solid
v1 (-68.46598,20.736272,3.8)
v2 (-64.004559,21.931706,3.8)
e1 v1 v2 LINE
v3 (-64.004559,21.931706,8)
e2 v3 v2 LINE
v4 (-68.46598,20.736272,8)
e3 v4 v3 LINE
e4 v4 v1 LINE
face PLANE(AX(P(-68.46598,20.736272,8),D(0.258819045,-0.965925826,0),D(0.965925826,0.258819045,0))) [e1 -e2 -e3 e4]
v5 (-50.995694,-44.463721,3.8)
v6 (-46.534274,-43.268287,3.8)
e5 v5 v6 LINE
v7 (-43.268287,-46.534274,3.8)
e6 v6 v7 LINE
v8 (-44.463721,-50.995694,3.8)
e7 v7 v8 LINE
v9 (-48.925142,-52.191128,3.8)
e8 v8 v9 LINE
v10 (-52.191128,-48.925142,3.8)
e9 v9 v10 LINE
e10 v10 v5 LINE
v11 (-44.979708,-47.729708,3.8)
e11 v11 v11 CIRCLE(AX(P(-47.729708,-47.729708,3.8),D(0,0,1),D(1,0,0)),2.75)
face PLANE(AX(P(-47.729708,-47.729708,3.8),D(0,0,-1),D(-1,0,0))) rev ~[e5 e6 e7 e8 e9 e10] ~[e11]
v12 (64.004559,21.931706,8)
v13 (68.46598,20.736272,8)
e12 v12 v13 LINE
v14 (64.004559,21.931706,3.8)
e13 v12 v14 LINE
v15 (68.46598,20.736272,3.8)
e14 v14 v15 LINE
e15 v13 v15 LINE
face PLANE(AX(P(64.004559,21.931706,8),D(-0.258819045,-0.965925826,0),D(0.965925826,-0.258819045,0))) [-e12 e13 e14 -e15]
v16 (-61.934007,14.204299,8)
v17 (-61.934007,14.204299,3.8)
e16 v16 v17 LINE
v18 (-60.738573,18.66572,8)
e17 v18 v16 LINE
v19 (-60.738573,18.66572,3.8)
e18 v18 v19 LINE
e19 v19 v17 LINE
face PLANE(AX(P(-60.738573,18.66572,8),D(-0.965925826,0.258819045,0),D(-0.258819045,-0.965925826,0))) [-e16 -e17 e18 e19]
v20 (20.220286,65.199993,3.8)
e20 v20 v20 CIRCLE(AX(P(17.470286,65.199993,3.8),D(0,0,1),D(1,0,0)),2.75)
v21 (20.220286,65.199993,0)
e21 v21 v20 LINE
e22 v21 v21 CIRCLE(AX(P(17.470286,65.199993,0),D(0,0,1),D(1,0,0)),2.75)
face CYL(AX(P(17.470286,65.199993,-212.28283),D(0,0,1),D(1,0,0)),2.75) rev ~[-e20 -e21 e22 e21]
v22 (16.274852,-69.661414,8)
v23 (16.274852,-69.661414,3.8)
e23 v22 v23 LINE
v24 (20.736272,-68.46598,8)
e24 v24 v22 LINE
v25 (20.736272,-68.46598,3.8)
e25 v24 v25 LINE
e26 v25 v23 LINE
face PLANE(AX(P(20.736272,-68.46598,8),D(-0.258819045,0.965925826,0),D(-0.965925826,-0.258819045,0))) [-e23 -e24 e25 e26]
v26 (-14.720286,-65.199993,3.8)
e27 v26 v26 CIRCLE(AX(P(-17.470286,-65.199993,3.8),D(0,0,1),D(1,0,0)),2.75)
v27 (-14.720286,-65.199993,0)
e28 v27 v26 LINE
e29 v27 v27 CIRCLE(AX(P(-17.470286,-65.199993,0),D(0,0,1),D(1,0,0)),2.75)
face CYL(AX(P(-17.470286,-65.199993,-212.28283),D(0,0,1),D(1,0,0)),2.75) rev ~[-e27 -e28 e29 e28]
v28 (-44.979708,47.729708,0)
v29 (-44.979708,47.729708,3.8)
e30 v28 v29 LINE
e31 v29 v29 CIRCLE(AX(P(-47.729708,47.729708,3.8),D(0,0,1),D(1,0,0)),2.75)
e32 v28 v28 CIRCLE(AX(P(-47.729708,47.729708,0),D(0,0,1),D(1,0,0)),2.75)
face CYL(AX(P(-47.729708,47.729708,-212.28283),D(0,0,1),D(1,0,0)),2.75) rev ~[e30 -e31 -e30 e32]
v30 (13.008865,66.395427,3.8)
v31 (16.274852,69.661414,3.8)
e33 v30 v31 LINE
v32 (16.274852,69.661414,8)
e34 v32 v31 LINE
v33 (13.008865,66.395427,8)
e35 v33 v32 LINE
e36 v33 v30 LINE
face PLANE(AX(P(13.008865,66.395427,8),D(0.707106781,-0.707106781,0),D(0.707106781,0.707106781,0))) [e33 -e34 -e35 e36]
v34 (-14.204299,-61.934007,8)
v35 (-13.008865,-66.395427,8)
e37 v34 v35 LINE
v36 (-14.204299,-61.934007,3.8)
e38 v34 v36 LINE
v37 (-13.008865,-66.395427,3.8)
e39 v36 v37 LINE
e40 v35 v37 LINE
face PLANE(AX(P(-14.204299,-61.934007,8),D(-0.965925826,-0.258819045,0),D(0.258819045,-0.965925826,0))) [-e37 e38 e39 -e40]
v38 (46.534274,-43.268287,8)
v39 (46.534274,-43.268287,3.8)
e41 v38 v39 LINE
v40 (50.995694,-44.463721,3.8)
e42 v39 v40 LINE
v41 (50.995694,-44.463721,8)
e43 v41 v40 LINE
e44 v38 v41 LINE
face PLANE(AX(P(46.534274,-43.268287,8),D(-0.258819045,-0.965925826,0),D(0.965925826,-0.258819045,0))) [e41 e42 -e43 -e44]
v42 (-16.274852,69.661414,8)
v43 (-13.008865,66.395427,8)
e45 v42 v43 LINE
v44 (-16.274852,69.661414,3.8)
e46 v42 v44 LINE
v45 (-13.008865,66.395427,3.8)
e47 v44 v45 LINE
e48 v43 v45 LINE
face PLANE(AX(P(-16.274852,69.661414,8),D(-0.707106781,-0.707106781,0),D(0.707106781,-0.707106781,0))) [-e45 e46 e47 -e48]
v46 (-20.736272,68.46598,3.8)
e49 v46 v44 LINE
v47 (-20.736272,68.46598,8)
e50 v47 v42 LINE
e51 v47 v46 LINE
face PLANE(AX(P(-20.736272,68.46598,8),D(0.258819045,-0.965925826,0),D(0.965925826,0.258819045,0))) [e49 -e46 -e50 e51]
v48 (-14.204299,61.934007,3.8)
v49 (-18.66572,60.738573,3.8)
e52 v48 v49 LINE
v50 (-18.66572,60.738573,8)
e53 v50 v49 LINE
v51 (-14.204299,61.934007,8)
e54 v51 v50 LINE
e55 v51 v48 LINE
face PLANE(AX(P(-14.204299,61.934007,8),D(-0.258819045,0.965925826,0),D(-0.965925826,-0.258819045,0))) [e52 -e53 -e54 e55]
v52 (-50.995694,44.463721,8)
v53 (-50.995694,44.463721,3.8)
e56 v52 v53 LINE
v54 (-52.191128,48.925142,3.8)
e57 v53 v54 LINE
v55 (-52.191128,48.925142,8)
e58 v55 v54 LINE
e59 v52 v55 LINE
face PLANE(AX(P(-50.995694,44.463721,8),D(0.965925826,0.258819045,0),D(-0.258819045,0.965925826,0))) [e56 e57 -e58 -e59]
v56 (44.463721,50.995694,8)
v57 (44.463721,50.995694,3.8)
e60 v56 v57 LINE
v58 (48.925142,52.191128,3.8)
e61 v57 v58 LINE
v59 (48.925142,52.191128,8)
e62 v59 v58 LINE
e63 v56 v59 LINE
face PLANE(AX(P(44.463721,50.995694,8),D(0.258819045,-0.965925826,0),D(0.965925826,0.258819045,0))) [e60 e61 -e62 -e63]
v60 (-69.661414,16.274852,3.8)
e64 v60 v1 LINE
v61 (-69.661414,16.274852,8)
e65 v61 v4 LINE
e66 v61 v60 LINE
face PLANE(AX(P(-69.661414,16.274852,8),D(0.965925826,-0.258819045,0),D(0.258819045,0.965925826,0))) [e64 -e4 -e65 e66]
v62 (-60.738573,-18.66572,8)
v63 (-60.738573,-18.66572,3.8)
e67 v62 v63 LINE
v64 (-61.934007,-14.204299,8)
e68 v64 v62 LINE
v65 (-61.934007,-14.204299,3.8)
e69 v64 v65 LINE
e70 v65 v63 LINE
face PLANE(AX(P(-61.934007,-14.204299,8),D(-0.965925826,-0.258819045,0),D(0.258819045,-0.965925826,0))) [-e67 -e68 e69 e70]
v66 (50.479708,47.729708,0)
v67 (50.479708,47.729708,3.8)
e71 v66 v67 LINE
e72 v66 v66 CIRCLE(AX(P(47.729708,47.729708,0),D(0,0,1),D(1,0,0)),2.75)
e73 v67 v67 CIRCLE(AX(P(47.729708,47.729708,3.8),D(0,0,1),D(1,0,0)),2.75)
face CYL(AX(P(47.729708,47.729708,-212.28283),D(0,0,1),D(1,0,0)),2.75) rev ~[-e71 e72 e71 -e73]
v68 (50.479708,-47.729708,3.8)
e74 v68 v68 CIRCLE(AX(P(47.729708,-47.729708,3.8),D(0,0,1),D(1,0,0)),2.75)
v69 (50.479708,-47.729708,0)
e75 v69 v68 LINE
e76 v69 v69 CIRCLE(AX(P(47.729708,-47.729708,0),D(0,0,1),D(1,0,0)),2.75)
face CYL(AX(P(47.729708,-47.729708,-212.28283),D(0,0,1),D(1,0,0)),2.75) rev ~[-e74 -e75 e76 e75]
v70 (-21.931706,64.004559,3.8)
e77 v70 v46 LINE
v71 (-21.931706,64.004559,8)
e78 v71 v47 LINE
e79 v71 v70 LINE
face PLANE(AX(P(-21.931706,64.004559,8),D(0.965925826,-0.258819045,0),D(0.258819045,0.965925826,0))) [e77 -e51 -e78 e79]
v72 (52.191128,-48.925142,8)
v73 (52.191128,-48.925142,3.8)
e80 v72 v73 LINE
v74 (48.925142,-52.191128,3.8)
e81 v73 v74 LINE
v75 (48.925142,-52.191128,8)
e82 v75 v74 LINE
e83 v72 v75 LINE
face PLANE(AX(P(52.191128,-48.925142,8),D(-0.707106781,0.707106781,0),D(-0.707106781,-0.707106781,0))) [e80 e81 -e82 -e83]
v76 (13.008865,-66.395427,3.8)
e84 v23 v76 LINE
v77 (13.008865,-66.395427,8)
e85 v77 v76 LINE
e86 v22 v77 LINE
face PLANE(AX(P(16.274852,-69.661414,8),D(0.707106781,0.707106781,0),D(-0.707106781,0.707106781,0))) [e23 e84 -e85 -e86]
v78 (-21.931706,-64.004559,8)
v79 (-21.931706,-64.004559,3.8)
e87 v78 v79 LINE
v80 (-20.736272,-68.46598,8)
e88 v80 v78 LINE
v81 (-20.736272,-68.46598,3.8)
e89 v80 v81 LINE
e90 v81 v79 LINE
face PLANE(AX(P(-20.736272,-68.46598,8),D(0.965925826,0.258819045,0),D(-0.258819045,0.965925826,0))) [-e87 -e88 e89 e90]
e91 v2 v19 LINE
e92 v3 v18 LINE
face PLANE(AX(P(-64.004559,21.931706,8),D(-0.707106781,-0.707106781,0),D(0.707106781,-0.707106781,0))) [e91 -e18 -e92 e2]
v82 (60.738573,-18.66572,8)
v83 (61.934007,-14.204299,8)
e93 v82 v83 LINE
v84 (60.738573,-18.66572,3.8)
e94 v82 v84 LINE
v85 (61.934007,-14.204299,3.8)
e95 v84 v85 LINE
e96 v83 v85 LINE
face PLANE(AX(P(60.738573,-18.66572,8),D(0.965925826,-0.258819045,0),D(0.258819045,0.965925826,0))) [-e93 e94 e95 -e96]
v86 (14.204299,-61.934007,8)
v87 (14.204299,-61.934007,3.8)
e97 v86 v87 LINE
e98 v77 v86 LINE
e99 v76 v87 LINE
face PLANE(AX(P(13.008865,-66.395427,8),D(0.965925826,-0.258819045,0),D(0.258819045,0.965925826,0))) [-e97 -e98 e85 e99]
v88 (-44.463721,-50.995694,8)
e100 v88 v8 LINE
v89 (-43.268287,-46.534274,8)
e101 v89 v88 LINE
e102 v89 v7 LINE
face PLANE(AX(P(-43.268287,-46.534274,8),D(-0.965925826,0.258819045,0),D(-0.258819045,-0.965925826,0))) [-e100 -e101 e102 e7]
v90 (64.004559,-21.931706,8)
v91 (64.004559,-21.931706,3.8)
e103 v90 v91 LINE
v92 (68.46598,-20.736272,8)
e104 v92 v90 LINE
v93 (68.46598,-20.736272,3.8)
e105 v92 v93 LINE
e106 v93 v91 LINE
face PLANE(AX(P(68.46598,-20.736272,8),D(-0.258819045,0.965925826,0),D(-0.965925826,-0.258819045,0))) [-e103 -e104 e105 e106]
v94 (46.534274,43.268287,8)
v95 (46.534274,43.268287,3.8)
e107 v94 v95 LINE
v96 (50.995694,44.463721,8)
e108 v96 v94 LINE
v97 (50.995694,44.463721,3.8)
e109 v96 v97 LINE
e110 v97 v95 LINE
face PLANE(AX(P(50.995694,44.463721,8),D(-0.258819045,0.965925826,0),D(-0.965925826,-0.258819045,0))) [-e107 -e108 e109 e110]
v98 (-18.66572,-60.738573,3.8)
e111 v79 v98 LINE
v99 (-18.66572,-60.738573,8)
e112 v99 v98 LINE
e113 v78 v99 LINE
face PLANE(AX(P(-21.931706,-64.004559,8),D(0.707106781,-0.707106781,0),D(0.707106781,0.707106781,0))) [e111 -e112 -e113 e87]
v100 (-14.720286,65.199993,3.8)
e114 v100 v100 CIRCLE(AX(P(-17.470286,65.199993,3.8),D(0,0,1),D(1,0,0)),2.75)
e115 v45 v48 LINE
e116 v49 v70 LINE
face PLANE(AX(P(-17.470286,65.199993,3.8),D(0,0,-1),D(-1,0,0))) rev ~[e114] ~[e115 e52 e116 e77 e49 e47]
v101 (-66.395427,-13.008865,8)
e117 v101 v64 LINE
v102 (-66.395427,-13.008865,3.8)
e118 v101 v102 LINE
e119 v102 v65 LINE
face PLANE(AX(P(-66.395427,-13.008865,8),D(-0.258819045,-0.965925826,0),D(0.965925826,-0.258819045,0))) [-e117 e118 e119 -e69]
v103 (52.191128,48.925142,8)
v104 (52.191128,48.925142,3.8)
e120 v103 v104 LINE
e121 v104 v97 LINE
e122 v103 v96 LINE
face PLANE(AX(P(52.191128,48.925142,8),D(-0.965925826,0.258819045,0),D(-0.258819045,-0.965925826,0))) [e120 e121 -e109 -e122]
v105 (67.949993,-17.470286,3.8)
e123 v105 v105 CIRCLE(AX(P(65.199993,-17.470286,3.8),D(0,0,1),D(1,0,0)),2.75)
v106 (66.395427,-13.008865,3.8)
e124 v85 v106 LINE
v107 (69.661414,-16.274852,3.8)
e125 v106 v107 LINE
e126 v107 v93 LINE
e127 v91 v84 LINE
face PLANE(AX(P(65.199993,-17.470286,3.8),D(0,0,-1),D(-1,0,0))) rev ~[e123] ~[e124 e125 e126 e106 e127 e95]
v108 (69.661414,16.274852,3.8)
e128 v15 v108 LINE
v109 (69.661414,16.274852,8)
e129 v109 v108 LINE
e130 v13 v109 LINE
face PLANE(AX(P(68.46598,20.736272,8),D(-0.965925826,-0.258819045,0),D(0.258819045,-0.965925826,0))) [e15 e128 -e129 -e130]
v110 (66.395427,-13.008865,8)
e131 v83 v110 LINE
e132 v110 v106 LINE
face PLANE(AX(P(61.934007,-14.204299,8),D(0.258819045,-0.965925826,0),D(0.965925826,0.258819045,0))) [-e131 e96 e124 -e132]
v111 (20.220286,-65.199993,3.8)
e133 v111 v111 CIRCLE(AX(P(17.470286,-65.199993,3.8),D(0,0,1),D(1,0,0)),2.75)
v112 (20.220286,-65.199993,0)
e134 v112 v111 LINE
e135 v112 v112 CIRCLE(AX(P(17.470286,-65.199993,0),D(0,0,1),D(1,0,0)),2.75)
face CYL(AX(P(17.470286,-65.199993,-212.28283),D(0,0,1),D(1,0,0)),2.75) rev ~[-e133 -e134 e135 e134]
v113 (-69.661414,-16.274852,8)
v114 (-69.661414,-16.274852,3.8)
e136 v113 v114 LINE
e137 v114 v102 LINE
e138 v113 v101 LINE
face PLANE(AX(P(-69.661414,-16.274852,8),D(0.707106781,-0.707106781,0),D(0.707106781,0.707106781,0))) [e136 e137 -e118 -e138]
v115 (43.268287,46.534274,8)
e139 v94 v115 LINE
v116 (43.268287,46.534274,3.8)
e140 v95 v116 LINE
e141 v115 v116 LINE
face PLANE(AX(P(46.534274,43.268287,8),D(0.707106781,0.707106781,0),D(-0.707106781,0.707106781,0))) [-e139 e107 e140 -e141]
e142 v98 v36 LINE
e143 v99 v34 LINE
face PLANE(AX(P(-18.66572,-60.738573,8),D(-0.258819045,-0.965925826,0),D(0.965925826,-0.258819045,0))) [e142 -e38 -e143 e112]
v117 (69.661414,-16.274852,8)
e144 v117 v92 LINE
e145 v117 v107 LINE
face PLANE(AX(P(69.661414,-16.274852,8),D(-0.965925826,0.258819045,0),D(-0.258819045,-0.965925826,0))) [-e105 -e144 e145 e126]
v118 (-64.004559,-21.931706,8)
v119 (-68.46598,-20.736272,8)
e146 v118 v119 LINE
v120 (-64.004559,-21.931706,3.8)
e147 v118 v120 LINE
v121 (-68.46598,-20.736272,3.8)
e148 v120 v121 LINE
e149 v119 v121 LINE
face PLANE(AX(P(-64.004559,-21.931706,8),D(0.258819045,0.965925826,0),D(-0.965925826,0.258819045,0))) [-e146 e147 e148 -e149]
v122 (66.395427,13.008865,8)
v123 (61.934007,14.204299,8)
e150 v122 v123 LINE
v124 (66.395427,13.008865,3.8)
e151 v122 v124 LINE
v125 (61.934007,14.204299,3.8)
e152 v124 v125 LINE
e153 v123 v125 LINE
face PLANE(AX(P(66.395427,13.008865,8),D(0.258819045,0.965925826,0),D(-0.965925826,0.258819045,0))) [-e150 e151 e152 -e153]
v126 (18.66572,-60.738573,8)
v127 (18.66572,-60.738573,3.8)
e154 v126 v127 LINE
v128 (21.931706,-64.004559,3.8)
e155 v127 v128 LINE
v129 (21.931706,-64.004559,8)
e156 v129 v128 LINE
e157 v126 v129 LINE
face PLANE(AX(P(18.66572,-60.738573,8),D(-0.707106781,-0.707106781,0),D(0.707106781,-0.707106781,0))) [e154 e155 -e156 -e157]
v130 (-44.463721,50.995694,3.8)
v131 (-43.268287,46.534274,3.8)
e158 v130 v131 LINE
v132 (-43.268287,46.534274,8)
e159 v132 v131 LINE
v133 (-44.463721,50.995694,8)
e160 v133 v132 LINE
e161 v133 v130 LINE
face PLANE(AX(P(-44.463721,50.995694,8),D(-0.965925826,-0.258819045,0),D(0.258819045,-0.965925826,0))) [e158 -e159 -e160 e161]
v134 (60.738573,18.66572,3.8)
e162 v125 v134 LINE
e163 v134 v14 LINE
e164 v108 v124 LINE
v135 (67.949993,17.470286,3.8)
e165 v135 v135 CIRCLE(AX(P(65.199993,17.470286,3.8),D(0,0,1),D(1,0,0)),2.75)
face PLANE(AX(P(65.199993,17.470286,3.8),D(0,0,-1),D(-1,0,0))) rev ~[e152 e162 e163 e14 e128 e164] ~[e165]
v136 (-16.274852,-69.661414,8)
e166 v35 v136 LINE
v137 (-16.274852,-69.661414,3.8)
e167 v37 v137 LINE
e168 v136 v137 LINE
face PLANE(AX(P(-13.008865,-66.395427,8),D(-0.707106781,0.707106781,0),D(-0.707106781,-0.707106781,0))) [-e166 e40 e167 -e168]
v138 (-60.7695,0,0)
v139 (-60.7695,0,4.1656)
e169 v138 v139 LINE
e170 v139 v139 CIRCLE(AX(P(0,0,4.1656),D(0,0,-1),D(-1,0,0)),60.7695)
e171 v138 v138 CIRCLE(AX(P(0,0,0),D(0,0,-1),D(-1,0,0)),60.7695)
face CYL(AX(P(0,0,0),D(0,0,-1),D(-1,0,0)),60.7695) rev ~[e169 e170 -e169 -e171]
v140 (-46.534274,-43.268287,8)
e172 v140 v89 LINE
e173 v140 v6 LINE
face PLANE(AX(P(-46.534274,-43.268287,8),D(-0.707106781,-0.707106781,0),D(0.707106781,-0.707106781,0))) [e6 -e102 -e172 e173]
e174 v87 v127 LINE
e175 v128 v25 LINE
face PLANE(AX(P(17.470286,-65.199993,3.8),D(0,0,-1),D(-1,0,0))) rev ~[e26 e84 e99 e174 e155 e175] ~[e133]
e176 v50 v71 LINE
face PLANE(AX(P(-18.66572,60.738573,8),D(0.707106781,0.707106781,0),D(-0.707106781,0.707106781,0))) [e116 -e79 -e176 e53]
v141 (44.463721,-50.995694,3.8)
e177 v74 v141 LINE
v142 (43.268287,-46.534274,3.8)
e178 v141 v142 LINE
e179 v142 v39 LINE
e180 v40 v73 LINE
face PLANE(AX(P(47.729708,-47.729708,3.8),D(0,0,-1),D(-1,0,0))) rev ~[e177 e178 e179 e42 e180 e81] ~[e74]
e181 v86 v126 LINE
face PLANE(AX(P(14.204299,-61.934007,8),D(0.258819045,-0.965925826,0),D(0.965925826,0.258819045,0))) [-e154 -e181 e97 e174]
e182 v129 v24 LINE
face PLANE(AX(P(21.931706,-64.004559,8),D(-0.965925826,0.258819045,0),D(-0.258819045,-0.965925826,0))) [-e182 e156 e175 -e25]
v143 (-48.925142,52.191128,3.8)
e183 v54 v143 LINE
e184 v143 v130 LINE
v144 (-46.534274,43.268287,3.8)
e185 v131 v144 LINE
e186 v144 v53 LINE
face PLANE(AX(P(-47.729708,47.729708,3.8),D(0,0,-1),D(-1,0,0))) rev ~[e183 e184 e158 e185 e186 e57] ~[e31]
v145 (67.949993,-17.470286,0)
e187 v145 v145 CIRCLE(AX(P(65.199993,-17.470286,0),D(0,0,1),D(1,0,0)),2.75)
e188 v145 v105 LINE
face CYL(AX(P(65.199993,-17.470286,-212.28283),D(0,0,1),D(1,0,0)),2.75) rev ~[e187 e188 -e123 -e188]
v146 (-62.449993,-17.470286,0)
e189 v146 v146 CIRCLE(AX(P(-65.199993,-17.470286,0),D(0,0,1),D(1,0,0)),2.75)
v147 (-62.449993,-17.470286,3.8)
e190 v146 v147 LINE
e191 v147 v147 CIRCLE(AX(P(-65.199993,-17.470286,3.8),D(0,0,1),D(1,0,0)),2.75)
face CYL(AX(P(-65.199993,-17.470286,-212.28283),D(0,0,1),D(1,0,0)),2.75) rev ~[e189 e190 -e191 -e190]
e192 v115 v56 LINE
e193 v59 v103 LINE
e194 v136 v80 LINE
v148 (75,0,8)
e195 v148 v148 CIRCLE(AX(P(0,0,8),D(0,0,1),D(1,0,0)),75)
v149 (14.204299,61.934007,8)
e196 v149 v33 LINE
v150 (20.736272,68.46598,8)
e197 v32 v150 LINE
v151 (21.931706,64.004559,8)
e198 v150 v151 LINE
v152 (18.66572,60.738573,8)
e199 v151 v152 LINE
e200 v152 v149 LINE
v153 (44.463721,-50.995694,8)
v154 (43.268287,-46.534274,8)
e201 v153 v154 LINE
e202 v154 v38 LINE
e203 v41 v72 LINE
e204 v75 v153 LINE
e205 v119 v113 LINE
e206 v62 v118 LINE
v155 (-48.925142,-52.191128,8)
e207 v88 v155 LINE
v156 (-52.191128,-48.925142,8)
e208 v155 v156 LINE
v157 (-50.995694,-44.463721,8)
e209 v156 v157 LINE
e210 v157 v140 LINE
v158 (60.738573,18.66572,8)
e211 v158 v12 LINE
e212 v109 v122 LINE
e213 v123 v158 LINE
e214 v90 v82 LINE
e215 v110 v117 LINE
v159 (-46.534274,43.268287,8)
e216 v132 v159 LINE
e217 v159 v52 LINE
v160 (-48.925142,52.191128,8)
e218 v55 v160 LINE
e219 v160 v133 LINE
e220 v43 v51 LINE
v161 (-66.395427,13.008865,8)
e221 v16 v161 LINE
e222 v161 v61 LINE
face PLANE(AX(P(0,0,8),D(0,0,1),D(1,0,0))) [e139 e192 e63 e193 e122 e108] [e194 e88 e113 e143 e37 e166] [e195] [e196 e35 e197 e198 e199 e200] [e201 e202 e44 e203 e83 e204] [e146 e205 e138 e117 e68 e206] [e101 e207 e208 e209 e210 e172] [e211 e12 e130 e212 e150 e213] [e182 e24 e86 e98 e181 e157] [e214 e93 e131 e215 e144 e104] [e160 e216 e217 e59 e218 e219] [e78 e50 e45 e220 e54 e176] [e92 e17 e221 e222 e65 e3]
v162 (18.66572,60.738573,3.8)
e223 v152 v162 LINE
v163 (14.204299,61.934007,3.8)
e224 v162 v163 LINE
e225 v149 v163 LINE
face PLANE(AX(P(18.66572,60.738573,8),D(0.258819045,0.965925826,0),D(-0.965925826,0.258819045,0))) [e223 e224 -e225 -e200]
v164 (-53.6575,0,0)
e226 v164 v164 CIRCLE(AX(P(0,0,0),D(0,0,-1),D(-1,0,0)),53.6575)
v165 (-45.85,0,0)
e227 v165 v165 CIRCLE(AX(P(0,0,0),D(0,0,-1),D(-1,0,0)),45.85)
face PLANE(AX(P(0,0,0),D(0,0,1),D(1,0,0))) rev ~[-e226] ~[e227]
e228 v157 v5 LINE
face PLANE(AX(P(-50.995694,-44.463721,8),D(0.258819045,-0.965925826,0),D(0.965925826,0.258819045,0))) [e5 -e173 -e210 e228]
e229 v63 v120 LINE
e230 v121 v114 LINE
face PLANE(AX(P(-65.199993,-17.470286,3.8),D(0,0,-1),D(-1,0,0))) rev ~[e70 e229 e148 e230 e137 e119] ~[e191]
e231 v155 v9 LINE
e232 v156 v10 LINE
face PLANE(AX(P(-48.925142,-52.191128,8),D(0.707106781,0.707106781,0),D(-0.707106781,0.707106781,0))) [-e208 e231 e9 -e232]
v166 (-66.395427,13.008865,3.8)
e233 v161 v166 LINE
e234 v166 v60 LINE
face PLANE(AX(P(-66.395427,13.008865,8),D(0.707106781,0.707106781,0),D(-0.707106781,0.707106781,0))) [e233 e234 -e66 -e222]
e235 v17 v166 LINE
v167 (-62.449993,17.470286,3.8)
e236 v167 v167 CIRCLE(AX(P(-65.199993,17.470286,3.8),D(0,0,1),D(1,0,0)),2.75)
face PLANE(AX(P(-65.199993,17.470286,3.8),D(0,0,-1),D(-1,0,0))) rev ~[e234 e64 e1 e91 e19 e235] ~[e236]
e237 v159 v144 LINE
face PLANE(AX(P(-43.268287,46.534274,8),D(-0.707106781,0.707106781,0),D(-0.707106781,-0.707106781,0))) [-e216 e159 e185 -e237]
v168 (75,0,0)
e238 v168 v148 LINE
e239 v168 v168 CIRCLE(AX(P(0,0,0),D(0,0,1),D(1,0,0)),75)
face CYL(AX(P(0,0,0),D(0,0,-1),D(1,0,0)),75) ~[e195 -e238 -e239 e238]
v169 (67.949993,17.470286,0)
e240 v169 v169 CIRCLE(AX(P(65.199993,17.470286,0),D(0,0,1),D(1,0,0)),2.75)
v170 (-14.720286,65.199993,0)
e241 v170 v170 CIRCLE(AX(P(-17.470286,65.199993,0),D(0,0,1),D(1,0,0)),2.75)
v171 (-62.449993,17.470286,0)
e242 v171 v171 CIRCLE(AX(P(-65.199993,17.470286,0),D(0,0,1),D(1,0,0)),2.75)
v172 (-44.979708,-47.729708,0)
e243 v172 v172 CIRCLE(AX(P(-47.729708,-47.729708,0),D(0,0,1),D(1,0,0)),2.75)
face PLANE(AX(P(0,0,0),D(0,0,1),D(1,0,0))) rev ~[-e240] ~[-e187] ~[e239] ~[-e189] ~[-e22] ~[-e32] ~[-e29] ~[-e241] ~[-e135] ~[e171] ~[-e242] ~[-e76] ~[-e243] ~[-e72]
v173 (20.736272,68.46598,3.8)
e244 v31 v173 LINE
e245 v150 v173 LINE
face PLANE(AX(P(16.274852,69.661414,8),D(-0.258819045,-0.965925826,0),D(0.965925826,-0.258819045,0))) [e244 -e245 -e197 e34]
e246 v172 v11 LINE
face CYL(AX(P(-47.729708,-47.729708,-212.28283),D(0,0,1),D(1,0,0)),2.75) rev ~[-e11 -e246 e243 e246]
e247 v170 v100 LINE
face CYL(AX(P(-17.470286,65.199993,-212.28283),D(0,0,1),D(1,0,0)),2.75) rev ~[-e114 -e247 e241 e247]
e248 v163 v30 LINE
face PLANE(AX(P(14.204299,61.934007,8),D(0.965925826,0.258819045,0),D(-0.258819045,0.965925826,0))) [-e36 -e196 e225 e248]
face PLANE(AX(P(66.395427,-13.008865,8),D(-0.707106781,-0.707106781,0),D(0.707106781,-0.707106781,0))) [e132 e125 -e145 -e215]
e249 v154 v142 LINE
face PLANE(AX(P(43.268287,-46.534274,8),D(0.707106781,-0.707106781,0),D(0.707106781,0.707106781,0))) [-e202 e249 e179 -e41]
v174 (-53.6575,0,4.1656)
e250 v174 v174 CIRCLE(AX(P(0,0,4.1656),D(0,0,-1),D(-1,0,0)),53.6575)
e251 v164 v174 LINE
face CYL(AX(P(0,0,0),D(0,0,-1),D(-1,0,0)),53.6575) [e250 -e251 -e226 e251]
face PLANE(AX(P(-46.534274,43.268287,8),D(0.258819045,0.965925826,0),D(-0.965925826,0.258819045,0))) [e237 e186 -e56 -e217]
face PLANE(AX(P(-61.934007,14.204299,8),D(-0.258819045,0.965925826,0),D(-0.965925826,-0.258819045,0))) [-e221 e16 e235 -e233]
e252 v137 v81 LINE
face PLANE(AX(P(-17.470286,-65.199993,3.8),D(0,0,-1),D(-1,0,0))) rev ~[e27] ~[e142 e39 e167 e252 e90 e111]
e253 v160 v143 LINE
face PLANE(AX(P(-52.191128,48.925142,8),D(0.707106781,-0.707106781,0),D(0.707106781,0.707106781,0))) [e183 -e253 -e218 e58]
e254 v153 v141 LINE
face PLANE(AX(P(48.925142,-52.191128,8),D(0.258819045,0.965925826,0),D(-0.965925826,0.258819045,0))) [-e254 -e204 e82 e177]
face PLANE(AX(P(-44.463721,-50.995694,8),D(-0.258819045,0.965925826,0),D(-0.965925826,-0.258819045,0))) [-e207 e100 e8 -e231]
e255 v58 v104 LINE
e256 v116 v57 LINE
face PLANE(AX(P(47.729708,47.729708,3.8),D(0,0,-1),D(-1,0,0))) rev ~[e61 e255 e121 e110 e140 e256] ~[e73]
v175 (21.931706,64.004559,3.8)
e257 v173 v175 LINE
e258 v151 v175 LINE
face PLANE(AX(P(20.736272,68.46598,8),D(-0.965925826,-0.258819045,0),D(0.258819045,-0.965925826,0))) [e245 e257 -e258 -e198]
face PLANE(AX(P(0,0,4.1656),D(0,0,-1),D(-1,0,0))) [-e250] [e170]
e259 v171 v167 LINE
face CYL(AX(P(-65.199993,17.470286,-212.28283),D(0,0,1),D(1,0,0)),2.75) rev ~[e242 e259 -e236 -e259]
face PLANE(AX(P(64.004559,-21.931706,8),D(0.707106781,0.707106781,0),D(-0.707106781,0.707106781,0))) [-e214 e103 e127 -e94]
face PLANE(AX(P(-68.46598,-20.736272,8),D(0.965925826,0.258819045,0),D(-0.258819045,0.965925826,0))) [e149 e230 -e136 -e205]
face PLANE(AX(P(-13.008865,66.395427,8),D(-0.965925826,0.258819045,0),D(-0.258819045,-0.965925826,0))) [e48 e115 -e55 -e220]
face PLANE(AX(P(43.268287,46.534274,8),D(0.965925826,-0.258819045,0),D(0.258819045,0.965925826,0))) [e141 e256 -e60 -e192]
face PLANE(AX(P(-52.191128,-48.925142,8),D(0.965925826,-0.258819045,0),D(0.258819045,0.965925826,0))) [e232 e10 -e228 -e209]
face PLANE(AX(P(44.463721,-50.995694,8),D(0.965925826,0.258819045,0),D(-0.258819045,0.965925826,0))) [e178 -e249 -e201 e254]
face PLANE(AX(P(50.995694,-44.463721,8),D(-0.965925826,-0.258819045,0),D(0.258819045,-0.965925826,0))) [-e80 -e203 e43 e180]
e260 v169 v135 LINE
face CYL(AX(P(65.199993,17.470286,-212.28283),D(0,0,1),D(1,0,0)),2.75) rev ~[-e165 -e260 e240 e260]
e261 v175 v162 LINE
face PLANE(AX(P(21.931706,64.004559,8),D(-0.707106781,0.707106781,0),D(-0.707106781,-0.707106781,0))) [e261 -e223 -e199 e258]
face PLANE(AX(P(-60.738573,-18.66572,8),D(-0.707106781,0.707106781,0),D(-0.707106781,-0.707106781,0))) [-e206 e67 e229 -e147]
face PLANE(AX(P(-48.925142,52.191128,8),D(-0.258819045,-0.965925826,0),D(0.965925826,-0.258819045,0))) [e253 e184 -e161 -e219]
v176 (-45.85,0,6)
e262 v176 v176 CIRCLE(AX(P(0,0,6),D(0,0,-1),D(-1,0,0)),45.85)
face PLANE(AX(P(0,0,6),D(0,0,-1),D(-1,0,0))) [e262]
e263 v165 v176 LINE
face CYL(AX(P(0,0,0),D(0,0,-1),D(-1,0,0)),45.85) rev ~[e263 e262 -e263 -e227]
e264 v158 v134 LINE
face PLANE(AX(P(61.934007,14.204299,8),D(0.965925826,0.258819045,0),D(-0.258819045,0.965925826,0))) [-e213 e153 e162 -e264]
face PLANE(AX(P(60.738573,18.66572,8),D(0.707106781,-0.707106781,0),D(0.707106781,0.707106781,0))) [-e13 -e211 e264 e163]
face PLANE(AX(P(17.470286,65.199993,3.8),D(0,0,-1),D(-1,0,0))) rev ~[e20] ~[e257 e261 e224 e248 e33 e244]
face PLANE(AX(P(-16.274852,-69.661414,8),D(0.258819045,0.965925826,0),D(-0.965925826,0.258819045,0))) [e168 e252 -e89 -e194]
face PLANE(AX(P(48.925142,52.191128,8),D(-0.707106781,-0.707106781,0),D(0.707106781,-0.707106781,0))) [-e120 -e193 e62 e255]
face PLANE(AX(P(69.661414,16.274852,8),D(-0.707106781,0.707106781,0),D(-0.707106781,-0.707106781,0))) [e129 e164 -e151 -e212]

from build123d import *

# Parameters (mm, degrees)
SKETCH1_R            = 75
BOSS_EXTRUDE1_DEPTH  = 8
M5_CLEARANCE_HOLE1_D = 5.5
CUT_EXTRUDE2_DEPTH   = 4.2
SKETCH11_R           = 45.85
CUT_EXTRUDE3_DEPTH   = 6
SKETCH12_R           = 60.7695
SKETCH12_R_2         = 53.6575
CUT_EXTRUDE4_DEPTH   = 4.1656


with BuildPart() as part:
    # Sketch1 → Boss-Extrude1 (new body)
    with BuildSketch(Plane.XY):
        Circle(SKETCH1_R)
    extrude(amount=BOSS_EXTRUDE1_DEPTH)

    # M5 Clearance Hole1 (through all)
    with Locations(Plane(origin=(0, 0, 0), x_dir=(-1, 0, 0), z_dir=(0, 0, -1))):
        with Locations((-17.470285544, -65.199993275), (-47.72970773, 47.72970773), (65.199993275, -17.470285544), (47.72970773, -47.72970773), (-65.199993275, 17.470285544), (-17.470285544, 65.199993275), (-65.199993275, -17.470285544), (-47.72970773, -47.72970773), (17.470285544, -65.199993275), (65.199993275, 17.470285544), (47.72970773, 47.72970773), (17.470285544, 65.199993275)):
            Hole(M5_CLEARANCE_HOLE1_D / 2)

    # Sketch6 → Cut-Extrude2 (cut)
    with BuildSketch(Plane(origin=(0, 0, 8), x_dir=(-1, 0, 0), z_dir=(0, 0, -1))):
        Polygon((-43.268287443, 46.534273767), (-44.463721406, 50.995694054), (-48.925141693, 52.191128017), (-52.191128017, 48.925141693), (-50.995694054, 44.463721406), (-46.534273767, 43.268287443), align=None)
        Polygon((-13.008865258, 66.395427237), (-16.274851582, 69.661413561), (-20.736271868, 68.465979598), (-21.931705831, 64.004559312), (-18.665719507, 60.738572988), (-14.204299221, 61.934006951), align=None)
        Polygon((21.931705831, 64.004559312), (20.736271868, 68.465979598), (16.274851582, 69.661413561), (13.008865258, 66.395427237), (14.204299221, 61.934006951), (18.665719507, 60.738572988), align=None)
        Polygon((50.995694054, 44.463721406), (52.191128017, 48.925141693), (48.925141693, 52.191128017), (44.463721406, 50.995694054), (43.268287443, 46.534273767), (46.534273767, 43.268287444), align=None)
        Polygon((66.395427237, 13.008865258), (69.661413561, 16.274851582), (68.465979598, 20.736271868), (64.004559312, 21.931705831), (60.738572988, 18.665719507), (61.934006951, 14.204299221), align=None)
        Polygon((64.004559312, -21.931705831), (68.465979598, -20.736271868), (69.661413561, -16.274851582), (66.395427237, -13.008865258), (61.934006951, -14.204299221), (60.738572988, -18.665719507), align=None)
        Polygon((44.463721406, -50.995694054), (48.925141693, -52.191128017), (52.191128017, -48.925141693), (50.995694054, -44.463721406), (46.534273767, -43.268287443), (43.268287444, -46.534273767), align=None)
        Polygon((13.008865258, -66.395427237), (16.274851582, -69.661413561), (20.736271868, -68.465979598), (21.931705831, -64.004559312), (18.665719507, -60.738572988), (14.204299221, -61.934006951), align=None)
        Polygon((-21.931705831, -64.004559312), (-20.736271868, -68.465979598), (-16.274851582, -69.661413561), (-13.008865258, -66.395427237), (-14.204299221, -61.934006951), (-18.665719507, -60.738572988), align=None)
        Polygon((-50.995694054, -44.463721406), (-52.191128017, -48.925141693), (-48.925141693, -52.191128017), (-44.463721406, -50.995694054), (-43.268287443, -46.534273767), (-46.534273767, -43.268287443), align=None)
        Polygon((-66.395427237, -13.008865258), (-69.661413561, -16.274851582), (-68.465979598, -20.736271868), (-64.004559312, -21.931705831), (-60.738572988, -18.665719507), (-61.934006951, -14.204299221), align=None)
        Polygon((-64.004559312, 21.931705831), (-68.465979598, 20.736271868), (-69.661413561, 16.274851582), (-66.395427237, 13.008865258), (-61.934006951, 14.204299221), (-60.738572988, 18.665719507), align=None)
    extrude(amount=CUT_EXTRUDE2_DEPTH, mode=Mode.SUBTRACT)

    # Sketch11 → Cut-Extrude3 (cut)
    with BuildSketch(Plane(origin=(0, 0, 0), x_dir=(-1, 0, 0), z_dir=(0, 0, -1))):
        Circle(SKETCH11_R)
    extrude(amount=-CUT_EXTRUDE3_DEPTH, mode=Mode.SUBTRACT)

    # Sketch12 → Cut-Extrude4 (cut)
    with BuildSketch(Plane(origin=(0, 0, 0), x_dir=(-1, 0, 0), z_dir=(0, 0, -1))):
        Circle(SKETCH12_R)
        Circle(SKETCH12_R_2, mode=Mode.SUBTRACT)
    extrude(amount=-CUT_EXTRUDE4_DEPTH, mode=Mode.SUBTRACT)


solid = part.part
